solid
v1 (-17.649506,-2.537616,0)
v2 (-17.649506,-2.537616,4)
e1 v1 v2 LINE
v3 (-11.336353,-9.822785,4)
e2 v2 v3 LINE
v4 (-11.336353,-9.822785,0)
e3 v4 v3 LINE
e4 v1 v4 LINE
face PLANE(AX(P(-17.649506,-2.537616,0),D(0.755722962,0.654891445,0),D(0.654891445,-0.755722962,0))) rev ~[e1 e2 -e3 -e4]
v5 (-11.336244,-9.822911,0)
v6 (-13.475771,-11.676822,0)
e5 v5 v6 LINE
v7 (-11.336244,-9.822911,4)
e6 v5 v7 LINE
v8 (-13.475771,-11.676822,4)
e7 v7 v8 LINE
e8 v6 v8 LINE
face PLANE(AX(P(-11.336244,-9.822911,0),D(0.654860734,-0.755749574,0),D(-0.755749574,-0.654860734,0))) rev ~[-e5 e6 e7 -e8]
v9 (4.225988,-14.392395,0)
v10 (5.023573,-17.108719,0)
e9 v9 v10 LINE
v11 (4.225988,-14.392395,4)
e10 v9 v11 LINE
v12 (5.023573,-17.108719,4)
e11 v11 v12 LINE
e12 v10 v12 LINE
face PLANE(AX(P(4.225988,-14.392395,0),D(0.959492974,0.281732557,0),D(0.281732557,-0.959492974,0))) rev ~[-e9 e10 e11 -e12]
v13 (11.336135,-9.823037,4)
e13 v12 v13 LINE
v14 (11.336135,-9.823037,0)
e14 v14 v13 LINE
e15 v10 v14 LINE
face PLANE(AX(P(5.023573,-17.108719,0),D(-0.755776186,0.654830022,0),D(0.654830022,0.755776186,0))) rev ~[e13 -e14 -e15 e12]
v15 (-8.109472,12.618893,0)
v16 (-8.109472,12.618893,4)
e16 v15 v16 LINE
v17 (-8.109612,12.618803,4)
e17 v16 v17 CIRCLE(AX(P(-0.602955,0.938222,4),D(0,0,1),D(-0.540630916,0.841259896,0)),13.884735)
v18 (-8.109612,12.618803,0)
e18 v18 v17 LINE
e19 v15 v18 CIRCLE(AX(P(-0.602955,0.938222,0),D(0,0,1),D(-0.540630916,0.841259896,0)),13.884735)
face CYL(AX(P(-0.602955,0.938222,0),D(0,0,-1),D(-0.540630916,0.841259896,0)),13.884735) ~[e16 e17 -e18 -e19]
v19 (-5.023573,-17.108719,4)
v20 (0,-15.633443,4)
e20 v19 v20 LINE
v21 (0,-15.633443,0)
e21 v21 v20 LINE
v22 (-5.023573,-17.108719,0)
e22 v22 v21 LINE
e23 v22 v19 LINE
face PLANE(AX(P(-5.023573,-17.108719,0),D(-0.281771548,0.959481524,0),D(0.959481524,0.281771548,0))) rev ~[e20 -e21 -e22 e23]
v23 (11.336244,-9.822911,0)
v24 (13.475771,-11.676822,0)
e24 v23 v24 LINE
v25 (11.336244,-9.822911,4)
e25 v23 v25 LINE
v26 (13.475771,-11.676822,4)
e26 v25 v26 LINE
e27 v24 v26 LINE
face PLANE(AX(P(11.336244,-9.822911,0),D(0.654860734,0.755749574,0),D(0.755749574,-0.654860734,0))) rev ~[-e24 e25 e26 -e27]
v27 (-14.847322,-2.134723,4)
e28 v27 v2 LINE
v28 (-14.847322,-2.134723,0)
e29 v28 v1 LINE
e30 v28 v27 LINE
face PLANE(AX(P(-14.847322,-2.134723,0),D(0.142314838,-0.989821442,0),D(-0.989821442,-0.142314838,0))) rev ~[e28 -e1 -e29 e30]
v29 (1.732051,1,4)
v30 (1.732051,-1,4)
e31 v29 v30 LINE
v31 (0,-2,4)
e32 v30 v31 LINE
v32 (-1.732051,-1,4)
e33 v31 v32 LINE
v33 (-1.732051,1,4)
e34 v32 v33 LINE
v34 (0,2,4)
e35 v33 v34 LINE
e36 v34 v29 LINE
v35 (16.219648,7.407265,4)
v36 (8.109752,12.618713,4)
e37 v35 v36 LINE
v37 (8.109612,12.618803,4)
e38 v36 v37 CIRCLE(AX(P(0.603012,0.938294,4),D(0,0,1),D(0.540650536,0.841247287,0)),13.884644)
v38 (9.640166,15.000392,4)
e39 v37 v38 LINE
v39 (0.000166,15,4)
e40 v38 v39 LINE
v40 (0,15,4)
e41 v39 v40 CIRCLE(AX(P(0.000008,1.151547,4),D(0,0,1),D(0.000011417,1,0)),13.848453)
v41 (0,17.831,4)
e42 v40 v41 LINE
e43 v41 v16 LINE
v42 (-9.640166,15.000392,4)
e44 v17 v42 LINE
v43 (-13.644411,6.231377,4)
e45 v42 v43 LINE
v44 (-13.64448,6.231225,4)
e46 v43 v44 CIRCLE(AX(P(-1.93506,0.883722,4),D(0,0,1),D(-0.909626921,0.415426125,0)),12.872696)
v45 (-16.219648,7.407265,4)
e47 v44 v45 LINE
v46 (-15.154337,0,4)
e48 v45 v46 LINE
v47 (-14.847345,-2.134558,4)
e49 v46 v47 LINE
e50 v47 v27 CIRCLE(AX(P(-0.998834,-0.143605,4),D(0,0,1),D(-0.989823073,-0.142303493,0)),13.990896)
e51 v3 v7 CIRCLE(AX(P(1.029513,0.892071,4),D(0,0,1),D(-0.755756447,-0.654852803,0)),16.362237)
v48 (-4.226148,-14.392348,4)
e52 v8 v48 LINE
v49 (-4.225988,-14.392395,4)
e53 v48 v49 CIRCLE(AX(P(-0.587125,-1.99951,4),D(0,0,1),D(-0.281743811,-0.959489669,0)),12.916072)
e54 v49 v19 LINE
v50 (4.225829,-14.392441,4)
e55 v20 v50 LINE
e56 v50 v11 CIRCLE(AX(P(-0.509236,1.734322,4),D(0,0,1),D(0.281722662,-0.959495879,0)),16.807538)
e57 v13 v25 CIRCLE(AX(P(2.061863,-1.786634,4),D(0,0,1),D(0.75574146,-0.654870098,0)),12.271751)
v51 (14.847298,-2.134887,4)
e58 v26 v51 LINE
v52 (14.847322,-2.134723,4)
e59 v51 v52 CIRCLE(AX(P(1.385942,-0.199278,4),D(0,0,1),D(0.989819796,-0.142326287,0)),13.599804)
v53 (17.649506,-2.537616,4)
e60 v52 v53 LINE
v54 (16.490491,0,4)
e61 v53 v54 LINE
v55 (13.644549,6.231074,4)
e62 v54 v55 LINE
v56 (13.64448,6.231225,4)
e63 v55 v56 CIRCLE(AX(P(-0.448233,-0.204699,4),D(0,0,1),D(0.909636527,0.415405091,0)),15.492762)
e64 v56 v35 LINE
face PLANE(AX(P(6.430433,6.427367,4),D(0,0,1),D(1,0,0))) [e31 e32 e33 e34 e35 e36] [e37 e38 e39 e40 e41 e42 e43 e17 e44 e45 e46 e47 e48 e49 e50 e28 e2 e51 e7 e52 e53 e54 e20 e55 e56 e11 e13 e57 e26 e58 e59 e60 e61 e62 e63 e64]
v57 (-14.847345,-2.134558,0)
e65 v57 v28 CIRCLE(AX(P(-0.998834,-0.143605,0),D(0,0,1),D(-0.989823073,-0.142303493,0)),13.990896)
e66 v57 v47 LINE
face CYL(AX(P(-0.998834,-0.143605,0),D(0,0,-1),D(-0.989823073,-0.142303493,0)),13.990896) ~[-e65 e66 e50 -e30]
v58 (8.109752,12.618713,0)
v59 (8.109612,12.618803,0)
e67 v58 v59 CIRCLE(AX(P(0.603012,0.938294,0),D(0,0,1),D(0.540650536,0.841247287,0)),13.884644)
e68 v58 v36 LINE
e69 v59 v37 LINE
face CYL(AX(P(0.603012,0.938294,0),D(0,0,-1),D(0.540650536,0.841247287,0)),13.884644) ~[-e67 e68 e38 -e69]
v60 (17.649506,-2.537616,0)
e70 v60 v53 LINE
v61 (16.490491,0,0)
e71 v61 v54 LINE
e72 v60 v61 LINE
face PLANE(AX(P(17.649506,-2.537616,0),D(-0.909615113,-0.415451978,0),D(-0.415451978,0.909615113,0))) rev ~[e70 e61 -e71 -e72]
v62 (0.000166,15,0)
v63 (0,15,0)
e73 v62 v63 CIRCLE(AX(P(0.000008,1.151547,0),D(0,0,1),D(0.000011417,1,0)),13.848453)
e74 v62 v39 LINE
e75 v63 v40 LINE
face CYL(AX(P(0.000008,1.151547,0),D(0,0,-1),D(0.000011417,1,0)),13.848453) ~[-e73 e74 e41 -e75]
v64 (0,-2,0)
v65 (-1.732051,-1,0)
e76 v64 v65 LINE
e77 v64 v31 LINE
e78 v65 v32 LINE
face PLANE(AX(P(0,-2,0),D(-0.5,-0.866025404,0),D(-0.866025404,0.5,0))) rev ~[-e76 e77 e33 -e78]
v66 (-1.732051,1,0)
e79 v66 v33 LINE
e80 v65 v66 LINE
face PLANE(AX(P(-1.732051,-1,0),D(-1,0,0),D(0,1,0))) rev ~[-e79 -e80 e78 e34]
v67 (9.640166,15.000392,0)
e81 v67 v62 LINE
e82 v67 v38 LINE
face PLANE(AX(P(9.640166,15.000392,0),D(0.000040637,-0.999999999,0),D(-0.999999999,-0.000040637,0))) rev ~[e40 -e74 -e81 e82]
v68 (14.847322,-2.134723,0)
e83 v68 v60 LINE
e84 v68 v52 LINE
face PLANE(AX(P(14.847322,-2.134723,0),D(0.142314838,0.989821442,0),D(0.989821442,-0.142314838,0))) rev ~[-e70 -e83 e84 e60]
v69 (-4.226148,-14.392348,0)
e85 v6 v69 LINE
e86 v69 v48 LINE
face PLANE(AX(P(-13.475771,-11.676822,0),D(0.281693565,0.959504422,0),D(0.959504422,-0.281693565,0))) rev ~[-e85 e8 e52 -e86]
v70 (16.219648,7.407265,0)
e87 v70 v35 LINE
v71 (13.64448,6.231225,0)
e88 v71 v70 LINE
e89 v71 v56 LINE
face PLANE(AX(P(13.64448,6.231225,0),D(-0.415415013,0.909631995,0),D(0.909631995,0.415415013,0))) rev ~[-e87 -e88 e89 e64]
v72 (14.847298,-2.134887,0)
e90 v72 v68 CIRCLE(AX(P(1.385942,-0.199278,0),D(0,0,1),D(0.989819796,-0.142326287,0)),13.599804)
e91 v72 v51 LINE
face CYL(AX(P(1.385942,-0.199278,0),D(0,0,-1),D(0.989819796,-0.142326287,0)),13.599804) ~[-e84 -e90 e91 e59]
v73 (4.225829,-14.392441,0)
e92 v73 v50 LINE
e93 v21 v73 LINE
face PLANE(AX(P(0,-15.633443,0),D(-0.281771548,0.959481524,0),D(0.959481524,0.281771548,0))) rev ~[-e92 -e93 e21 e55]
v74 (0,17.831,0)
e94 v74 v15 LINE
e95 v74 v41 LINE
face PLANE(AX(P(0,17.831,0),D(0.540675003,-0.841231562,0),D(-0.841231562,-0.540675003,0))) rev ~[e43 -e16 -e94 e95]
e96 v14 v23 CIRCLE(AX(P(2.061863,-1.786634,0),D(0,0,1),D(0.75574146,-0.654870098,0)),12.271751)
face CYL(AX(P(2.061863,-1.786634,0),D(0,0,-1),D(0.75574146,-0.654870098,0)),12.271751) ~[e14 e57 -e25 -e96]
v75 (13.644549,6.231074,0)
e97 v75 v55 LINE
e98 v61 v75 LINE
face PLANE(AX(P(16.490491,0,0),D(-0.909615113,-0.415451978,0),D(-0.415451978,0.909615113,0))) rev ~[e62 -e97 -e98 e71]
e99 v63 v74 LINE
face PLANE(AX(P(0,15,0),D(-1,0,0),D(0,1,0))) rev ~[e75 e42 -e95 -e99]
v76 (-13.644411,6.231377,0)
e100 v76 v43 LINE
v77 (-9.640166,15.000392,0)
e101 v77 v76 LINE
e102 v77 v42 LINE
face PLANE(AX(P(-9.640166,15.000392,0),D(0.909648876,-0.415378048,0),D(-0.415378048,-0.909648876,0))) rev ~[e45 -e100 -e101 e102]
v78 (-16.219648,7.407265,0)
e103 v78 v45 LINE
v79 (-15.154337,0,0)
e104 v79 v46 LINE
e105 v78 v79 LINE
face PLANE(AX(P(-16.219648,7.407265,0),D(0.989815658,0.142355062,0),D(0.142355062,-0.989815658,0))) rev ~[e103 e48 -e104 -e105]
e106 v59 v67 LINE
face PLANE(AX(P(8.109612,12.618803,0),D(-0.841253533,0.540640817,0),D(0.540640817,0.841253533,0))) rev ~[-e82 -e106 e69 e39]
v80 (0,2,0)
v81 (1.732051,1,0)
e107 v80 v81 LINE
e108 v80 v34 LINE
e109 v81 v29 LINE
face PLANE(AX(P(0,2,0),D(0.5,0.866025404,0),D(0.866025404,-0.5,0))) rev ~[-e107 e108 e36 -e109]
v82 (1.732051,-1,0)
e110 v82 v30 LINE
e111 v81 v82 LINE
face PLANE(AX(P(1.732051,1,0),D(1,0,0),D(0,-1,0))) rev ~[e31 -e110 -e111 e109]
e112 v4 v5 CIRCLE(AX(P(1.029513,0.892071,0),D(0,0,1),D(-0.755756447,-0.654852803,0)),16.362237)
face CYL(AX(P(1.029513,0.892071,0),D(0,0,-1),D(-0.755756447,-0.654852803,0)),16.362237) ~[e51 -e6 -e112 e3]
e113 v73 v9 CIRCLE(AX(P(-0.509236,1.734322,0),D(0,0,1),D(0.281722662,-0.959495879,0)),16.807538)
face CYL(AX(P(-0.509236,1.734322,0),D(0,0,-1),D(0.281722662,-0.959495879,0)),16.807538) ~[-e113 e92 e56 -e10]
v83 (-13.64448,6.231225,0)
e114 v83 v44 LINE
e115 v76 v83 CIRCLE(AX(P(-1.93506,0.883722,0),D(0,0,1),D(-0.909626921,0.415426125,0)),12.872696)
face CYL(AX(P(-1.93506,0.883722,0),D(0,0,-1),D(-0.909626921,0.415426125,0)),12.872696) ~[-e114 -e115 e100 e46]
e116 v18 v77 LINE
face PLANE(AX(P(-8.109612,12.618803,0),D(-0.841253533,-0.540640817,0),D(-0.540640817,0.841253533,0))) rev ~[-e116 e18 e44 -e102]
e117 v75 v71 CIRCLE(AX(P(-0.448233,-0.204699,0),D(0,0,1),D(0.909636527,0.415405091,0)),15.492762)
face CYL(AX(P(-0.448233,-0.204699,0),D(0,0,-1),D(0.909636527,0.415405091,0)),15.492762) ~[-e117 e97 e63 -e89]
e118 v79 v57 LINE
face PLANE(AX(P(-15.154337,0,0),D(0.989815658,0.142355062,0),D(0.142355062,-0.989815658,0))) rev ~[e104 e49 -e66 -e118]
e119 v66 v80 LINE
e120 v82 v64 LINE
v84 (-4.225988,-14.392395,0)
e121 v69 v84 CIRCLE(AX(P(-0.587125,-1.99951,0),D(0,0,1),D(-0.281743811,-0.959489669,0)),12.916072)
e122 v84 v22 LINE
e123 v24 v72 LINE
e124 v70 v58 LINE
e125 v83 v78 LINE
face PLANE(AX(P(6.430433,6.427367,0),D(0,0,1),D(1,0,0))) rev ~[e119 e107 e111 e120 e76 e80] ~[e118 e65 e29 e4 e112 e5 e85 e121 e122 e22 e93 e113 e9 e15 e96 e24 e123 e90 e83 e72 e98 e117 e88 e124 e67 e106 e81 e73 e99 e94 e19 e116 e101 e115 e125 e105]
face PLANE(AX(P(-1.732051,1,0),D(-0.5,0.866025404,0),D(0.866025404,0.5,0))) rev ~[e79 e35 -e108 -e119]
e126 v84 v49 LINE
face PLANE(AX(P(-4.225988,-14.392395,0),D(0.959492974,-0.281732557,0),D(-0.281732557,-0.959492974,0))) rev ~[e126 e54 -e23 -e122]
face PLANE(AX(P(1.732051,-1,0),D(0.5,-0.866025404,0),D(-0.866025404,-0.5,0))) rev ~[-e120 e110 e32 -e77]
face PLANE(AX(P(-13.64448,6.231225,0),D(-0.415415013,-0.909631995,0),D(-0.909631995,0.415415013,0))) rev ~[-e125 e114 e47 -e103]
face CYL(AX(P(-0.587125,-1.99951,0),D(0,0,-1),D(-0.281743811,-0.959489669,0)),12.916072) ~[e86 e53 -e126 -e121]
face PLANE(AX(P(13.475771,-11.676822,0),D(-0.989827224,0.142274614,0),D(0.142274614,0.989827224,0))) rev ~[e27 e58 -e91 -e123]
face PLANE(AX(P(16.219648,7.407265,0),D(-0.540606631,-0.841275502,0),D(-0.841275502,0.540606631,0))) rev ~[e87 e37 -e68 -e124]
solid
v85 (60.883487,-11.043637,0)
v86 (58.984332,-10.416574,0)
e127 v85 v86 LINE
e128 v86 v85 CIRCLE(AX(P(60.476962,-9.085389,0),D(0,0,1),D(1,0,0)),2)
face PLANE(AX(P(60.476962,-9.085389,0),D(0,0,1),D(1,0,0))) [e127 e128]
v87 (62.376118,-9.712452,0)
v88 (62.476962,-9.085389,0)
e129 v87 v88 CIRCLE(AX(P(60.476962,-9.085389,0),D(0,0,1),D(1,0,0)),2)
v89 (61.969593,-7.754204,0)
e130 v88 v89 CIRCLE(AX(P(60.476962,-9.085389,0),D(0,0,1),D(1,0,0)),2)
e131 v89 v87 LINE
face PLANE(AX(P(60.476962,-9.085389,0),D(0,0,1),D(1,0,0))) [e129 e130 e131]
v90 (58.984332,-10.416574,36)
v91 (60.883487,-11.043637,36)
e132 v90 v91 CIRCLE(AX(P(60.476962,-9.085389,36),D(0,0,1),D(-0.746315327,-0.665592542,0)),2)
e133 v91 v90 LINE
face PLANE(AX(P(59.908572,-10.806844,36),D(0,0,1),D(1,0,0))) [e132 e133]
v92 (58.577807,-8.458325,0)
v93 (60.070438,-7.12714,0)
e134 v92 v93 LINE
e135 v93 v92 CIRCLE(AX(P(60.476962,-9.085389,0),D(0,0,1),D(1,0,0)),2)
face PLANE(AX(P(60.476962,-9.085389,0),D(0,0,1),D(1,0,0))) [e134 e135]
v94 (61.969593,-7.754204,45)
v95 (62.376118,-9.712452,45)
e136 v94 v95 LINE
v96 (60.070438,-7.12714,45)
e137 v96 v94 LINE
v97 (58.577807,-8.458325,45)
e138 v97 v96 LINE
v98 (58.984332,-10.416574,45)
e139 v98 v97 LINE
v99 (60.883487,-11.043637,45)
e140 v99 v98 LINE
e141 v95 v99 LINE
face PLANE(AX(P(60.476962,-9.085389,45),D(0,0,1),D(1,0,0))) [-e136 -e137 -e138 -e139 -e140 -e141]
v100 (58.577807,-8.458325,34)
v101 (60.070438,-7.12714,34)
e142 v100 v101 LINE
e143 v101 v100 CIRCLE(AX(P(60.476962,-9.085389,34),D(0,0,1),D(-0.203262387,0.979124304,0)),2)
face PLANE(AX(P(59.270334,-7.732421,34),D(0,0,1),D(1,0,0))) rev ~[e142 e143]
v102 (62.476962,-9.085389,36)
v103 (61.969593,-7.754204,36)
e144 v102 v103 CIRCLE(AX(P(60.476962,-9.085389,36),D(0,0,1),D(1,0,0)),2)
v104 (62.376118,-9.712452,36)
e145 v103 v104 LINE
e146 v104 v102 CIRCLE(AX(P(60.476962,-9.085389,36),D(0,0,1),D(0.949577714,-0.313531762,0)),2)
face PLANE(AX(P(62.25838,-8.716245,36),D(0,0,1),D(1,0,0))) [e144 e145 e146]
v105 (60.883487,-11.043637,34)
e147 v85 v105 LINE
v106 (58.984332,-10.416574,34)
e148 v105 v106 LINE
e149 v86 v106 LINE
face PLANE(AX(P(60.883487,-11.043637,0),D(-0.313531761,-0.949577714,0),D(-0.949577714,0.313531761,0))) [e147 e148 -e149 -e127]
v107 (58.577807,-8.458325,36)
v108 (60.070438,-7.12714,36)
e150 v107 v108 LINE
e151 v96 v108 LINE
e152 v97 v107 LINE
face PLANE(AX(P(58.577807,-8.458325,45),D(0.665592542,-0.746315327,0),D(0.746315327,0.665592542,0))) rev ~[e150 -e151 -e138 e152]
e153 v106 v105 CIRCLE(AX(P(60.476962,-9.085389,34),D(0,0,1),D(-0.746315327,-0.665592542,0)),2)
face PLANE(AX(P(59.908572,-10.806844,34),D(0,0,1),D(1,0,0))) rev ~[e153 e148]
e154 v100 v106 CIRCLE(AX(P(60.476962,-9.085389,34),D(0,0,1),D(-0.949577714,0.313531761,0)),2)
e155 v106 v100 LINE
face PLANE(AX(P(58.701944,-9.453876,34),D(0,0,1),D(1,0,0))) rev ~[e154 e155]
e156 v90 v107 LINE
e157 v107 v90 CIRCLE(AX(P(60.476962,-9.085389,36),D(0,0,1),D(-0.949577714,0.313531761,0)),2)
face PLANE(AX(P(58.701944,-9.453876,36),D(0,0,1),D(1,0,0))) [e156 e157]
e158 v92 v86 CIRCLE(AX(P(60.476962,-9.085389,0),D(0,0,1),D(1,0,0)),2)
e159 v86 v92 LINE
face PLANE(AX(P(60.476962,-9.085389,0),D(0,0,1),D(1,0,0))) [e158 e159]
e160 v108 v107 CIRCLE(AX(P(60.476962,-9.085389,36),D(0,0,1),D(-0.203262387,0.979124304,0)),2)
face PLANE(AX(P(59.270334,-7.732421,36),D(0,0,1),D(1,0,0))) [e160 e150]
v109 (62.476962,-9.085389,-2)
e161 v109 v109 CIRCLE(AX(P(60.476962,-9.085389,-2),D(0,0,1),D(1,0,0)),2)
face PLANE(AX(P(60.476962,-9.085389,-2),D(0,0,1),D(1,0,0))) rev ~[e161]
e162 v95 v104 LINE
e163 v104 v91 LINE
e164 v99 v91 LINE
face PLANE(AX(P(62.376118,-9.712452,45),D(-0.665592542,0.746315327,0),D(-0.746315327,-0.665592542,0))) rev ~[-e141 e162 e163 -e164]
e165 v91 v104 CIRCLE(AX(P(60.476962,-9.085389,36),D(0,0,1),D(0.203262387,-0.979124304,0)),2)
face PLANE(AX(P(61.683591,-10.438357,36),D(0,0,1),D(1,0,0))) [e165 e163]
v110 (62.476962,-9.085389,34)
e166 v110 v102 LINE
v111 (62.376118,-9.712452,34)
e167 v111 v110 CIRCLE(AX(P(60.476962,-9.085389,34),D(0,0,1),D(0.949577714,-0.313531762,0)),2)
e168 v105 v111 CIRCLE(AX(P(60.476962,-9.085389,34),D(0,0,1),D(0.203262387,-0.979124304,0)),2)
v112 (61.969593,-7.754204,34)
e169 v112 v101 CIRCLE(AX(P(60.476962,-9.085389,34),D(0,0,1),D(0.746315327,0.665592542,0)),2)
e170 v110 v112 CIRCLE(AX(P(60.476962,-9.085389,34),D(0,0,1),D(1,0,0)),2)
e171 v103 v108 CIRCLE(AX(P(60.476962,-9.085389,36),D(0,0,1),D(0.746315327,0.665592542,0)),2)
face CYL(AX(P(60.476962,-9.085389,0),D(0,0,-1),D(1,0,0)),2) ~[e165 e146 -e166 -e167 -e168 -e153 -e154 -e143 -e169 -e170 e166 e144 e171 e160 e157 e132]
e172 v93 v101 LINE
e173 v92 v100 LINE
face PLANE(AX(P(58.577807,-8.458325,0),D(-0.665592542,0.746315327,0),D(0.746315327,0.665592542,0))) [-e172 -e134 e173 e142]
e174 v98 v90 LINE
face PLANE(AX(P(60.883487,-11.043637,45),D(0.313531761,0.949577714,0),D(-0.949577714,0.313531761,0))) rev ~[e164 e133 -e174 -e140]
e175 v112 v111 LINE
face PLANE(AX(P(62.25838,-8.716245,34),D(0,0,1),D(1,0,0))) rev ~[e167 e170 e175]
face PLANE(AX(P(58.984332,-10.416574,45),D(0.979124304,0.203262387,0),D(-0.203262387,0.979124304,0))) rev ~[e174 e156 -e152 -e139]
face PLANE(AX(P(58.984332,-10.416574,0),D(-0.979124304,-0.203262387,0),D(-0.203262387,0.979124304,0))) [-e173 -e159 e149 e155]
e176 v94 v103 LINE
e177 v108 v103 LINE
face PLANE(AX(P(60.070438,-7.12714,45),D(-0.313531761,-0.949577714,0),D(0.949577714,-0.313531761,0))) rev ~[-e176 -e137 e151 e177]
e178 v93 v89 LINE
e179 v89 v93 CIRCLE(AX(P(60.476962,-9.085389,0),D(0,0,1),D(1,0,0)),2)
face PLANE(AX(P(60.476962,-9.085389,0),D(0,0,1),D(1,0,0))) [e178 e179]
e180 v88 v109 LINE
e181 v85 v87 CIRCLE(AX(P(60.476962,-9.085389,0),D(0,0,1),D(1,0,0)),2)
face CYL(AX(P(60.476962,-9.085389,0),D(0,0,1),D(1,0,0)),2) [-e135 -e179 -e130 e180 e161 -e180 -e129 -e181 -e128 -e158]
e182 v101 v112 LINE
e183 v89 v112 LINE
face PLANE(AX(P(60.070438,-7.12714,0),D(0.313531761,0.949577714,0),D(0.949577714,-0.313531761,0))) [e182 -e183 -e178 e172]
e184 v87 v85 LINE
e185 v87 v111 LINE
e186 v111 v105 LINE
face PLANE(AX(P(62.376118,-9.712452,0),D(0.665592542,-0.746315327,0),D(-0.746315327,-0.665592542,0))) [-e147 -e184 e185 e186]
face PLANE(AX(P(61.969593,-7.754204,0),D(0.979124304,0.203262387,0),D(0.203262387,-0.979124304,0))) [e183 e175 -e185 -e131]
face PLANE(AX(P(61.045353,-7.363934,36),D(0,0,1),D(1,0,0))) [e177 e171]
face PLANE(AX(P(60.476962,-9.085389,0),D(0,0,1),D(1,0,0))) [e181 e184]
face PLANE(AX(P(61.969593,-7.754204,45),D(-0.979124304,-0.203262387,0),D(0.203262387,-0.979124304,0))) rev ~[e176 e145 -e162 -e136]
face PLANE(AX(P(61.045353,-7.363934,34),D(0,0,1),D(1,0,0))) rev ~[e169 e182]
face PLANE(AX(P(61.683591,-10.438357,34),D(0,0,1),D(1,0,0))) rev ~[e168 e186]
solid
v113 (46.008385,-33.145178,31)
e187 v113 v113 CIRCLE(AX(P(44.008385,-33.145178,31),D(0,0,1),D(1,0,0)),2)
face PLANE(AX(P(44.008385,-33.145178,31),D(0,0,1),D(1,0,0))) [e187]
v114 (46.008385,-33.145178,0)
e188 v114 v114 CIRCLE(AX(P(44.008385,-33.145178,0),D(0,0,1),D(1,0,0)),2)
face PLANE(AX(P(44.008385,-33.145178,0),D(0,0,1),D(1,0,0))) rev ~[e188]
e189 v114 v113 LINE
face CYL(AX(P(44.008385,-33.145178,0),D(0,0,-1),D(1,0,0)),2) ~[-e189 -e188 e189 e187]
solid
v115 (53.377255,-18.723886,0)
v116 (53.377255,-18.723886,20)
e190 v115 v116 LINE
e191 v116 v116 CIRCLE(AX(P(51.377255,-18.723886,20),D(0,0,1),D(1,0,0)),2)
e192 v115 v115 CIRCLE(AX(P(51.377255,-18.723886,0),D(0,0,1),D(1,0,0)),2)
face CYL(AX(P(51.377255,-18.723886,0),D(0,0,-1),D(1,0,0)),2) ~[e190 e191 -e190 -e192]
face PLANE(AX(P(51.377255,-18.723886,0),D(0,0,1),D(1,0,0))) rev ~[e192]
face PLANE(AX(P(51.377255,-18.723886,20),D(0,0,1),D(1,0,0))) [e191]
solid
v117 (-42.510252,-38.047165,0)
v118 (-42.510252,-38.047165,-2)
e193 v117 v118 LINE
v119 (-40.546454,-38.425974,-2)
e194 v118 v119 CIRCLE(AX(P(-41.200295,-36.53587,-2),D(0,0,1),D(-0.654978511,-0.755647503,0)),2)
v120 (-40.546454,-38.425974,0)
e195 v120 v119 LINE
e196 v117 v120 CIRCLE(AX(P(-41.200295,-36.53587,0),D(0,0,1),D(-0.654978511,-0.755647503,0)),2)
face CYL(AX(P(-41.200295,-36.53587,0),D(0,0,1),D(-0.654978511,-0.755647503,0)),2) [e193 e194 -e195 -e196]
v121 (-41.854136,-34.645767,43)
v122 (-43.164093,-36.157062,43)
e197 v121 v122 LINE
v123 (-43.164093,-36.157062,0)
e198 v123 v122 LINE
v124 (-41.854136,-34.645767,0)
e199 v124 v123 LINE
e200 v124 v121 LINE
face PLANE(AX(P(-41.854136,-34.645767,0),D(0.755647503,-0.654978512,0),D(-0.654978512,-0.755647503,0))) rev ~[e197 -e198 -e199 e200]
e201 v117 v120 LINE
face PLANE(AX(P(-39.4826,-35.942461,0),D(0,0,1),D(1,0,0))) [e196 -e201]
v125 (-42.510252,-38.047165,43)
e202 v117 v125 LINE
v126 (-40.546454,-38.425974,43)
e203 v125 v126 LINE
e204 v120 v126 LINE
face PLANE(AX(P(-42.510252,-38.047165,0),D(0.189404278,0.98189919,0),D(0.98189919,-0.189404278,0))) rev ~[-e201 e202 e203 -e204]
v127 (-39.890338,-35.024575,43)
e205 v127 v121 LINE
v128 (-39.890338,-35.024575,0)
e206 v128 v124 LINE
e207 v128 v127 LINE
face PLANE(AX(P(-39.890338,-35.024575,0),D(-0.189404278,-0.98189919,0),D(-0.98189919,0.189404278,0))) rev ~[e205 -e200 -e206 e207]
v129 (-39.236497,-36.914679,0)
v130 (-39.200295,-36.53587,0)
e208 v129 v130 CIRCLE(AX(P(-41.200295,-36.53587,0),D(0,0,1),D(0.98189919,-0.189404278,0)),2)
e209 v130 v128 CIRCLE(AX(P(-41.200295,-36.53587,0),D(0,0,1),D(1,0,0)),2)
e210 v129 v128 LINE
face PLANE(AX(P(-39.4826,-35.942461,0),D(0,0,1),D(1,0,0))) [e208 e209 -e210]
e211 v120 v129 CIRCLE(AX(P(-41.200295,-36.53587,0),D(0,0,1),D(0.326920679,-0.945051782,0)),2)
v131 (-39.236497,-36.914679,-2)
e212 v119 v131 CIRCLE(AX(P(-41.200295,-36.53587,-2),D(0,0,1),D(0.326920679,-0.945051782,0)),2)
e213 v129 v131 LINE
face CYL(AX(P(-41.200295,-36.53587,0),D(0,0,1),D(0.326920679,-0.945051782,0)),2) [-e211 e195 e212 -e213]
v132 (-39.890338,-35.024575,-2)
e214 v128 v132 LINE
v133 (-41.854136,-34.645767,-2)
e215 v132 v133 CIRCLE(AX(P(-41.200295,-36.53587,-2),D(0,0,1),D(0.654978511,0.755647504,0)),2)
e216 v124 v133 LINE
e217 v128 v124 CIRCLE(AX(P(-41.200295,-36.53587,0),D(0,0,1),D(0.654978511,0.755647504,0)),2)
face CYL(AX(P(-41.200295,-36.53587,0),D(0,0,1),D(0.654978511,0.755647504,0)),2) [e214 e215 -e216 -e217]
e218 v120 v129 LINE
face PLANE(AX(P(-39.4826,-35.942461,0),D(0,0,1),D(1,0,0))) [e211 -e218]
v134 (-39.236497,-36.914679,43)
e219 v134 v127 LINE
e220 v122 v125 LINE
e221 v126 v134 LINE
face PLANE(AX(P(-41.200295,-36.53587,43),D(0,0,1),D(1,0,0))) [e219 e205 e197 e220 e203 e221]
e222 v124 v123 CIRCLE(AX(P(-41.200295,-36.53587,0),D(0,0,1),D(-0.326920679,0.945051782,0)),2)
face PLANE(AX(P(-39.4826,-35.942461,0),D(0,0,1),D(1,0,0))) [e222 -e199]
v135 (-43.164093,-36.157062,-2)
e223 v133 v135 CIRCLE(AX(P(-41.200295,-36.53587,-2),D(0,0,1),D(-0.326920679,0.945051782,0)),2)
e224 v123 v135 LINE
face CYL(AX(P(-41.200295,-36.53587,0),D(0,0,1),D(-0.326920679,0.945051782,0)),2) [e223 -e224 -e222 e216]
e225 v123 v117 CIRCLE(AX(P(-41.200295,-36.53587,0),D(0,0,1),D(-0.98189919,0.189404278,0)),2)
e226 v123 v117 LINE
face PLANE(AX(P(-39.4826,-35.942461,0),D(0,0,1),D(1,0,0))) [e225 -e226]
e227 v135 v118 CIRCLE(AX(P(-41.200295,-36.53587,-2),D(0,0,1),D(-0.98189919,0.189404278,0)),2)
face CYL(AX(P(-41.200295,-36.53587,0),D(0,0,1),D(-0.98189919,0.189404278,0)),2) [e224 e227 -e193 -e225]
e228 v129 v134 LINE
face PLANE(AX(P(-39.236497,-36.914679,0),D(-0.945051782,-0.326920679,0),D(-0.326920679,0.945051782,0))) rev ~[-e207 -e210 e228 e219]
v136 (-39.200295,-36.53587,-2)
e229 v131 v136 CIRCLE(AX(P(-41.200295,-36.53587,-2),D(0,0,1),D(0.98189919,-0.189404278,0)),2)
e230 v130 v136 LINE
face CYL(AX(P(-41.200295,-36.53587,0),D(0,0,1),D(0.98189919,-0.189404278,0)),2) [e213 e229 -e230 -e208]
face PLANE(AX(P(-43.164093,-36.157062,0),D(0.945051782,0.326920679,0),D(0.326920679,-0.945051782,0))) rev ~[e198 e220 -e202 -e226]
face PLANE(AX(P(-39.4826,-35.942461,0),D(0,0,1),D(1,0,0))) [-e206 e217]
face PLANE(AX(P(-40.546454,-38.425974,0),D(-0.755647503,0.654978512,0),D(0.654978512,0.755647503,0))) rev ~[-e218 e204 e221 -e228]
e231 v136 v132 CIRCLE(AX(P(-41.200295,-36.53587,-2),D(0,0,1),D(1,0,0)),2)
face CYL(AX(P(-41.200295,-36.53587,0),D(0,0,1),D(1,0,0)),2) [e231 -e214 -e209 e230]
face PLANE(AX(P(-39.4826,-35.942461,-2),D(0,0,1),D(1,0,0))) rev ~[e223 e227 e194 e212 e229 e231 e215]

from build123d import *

# Parameters (mm, degrees)
F1_DEPTH  = 4
F2_R      = 2
F3_DEPTH  = 31
F4_DEPTH  = 20
F5_DEPTH  = 45
F7_DEPTH  = 9
F9_DEPTH  = 34
F10_DEPTH = 2
F12_DEPTH = 43
F13_DEPTH = 2


with BuildPart() as f1:
    # F0 (on Top) → F1 (new body)
    with BuildSketch(Plane.XY):
        with BuildLine():
            Line((2, 0), (15, 0))
            ThreePointArc((15, 0), (14.6572206773, 3.1883980329), (13.6445490645, 6.23107381))
            ThreePointArc((13.6445490645, 6.23107381), (13.6445144976, 6.2311495026), (13.6444799303, 6.231225195))
            ThreePointArc((13.6444799303, 6.231225195), (11.3362981074, 9.8228481216), (8.1097522661, 12.6187130161))
            ThreePointArc((8.1097522661, 12.6187130161), (8.1096822641, 12.6187580045), (8.1096122618, 12.6188029925))
            ThreePointArc((8.1096122618, 12.6188029925), (4.2260681939, 14.3923711605), (0.000166424, 14.9999999991))
            ThreePointArc((0.000166424, 14.9999999991), (8.3212e-05, 14.9999999998), (0, 15))
            Line((0, 15), (0, 2))
            ThreePointArc((0, 2), (1, 1.7320508076), (1.7320508076, 1))
            ThreePointArc((1.7320508076, 1), (1.9318516526, 0.5176380902), (2, 0))
        make_face()
        with BuildLine():
            Line((16.4904911563, 0), (15, 0))
            ThreePointArc((15, 0), (14.9617817192, -1.070087748), (14.8473216282, -2.1347225741))
            Line((14.8473216282, -2.1347225741), (17.6495061302, -2.5376158813))
            Line((17.6495061302, -2.5376158813), (16.4904911563, 0))
        make_face()
        with BuildLine():
            ThreePointArc((14.8473216282, -2.1347225741), (14.9617817192, -1.070087748), (15, 0))
            Line((15, 0), (2, 0))
            ThreePointArc((2, 0), (1.9318516526, -0.5176380902), (1.7320508076, -1))
            ThreePointArc((1.7320508076, -1), (1, -1.7320508076), (0, -2))
            Line((0, -2), (0, -15))
            ThreePointArc((0, -15), (2.134640209, -14.8473334703), (4.2258286697, -14.3924414904))
            ThreePointArc((4.2258286697, -14.3924414904), (4.2259085112, -14.3924180475), (4.2259883526, -14.3923946042))
            ThreePointArc((4.2259883526, -14.3923946042), (8.1095422593, -12.6188479801), (11.3361346301, -9.8230367834))
            ThreePointArc((11.3361346301, -9.8230367834), (11.3361891229, -9.8229738965), (11.3362436153, -9.8229110092))
            ThreePointArc((11.3362436153, -9.8229110092), (13.6444453626, -6.2313008872), (14.8472979427, -2.134887304))
            ThreePointArc((14.8472979427, -2.134887304), (14.8473097857, -2.1348049391), (14.8473216282, -2.1347225741))
        make_face()
        with BuildLine():
            ThreePointArc((13.6445490645, 6.23107381), (14.6572206773, 3.1883980329), (15, 0))
            Line((15, 0), (16.4904911563, 0))
            Line((16.4904911563, 0), (13.6445490645, 6.23107381))
        make_face()
        with BuildLine():
            ThreePointArc((8.1097522661, 12.6187130161), (11.3362981074, 9.8228481216), (13.6444799303, 6.231225195))
            Line((13.6444799303, 6.231225195), (16.2196481092, 7.4072650968))
            Line((16.2196481092, 7.4072650968), (8.1097522661, 12.6187130161))
        make_face()
        with BuildLine():
            Line((13.4757706603, -11.676821747), (14.8472979427, -2.134887304))
            ThreePointArc((14.8472979427, -2.134887304), (13.6444453626, -6.2313008872), (11.3362436153, -9.8229110092))
            Line((11.3362436153, -9.8229110092), (13.4757706603, -11.676821747))
        make_face()
        with BuildLine():
            ThreePointArc((-1.7320508076, 1), (-1, 1.7320508076), (0, 2))
            Line((0, 2), (0, 15))
            ThreePointArc((0, 15), (-4.2259085112, 14.3924180475), (-8.1094722565, 12.6188929673))
            ThreePointArc((-8.1094722565, 12.6188929673), (-8.1095422593, 12.6188479801), (-8.1096122618, 12.6188029925))
            ThreePointArc((-8.1096122618, 12.6188029925), (-11.3361891229, 9.8229738965), (-13.6444107944, 6.2313765792))
            ThreePointArc((-13.6444107944, 6.2313765792), (-13.6444453626, 6.2313008872), (-13.6444799303, 6.231225195))
            ThreePointArc((-13.6444799303, 6.231225195), (-14.6572029896, 3.1884793433), (-15, 0))
            Line((-15, 0), (-2, 0))
            ThreePointArc((-2, 0), (-1.9318516526, 0.5176380902), (-1.7320508076, 1))
        make_face()
        with BuildLine():
            Line((0, -15), (0, -2))
            ThreePointArc((0, -2), (-1, -1.7320508076), (-1.7320508076, -1))
            ThreePointArc((-1.7320508076, -1), (-1.9318516526, -0.5176380902), (-2, 0))
            Line((-2, 0), (-15, 0))
            ThreePointArc((-15, 0), (-14.9617876552, -1.070004748), (-14.8473453119, -2.1345578439))
            ThreePointArc((-14.8473453119, -2.1345578439), (-14.8473334703, -2.134640209), (-14.8473216282, -2.1347225741))
            ThreePointArc((-14.8473216282, -2.1347225741), (-13.6445144976, -6.2311495026), (-11.3363525992, -9.8227852337))
            ThreePointArc((-11.3363525992, -9.8227852337), (-11.3362981074, -9.8228481216), (-11.3362436153, -9.8229110092))
            ThreePointArc((-11.3362436153, -9.8229110092), (-8.1096822641, -12.6187580045), (-4.226148035, -14.3923477163))
            ThreePointArc((-4.226148035, -14.3923477163), (-4.2260681939, -14.3923711605), (-4.2259883526, -14.3923946042))
            ThreePointArc((-4.2259883526, -14.3923946042), (-2.1347225741, -14.8473216282), (0, -15))
        make_face()
        with BuildLine():
            ThreePointArc((0.000166424, 14.9999999991), (4.2260681939, 14.3923711605), (8.1096122618, 12.6188029925))
            Line((8.1096122618, 12.6188029925), (9.6401664161, 15.0003917439))
            Line((9.6401664161, 15.0003917439), (0.000166424, 14.9999999991))
        make_face()
        with BuildLine():
            Line((5.023573221, -17.1087192125), (11.3361346301, -9.8230367834))
            ThreePointArc((11.3361346301, -9.8230367834), (8.1095422593, -12.6188479801), (4.2259883526, -14.3923946042))
            Line((4.2259883526, -14.3923946042), (5.023573221, -17.1087192125))
        make_face()
        with BuildLine():
            ThreePointArc((-8.1094722565, 12.6188929673), (-4.2259085112, 14.3924180475), (0, 15))
            Line((0, 15), (0, 17.831))
            Line((0, 17.831), (-8.1094722565, 12.6188929673))
        make_face()
        with BuildLine():
            Line((0, -15.6334432772), (0, -15))
            ThreePointArc((0, -15), (-2.1347225741, -14.8473216282), (-4.2259883526, -14.3923946042))
            Line((-4.2259883526, -14.3923946042), (-5.023573221, -17.1087192125))
            Line((-5.023573221, -17.1087192125), (0, -15.6334432772))
        make_face()
        with BuildLine():
            ThreePointArc((4.2258286697, -14.3924414904), (2.134640209, -14.8473334703), (0, -15))
            Line((0, -15), (0, -15.6334432772))
            Line((0, -15.6334432772), (4.2258286697, -14.3924414904))
        make_face()
        with BuildLine():
            Line((-15.1543369338, 0), (-15, 0))
            ThreePointArc((-15, 0), (-14.6572029896, 3.1884793433), (-13.6444799303, 6.231225195))
            Line((-13.6444799303, 6.231225195), (-16.2196481092, 7.4072650968))
            Line((-16.2196481092, 7.4072650968), (-15.1543369338, 0))
        make_face()
        with BuildLine():
            ThreePointArc((-14.8473453119, -2.1345578439), (-14.9617876552, -1.070004748), (-15, 0))
            Line((-15, 0), (-15.1543369338, 0))
            Line((-15.1543369338, 0), (-14.8473453119, -2.1345578439))
        make_face()
        with BuildLine():
            ThreePointArc((-13.6444107944, 6.2313765792), (-11.3361891229, 9.8229738965), (-8.1096122618, 12.6188029925))
            Line((-8.1096122618, 12.6188029925), (-9.6401664161, 15.0003917439))
            Line((-9.6401664161, 15.0003917439), (-13.6444107944, 6.2313765792))
        make_face()
        with BuildLine():
            Line((-13.4757706603, -11.676821747), (-4.226148035, -14.3923477163))
            ThreePointArc((-4.226148035, -14.3923477163), (-8.1096822641, -12.6187580045), (-11.3362436153, -9.8229110092))
            Line((-11.3362436153, -9.8229110092), (-13.4757706603, -11.676821747))
        make_face()
        with BuildLine():
            ThreePointArc((-11.3363525992, -9.8227852337), (-13.6445144976, -6.2311495026), (-14.8473216282, -2.1347225741))
            Line((-14.8473216282, -2.1347225741), (-17.6495061302, -2.5376158813))
            Line((-17.6495061302, -2.5376158813), (-11.3363525992, -9.8227852337))
        make_face()
        with BuildLine():
            Line((-1.7320508076, 1), (0, 2))
            ThreePointArc((0, 2), (-1, 1.7320508076), (-1.7320508076, 1))
        make_face()
        with BuildLine():
            Line((0, 2), (1.7320508076, 1))
            ThreePointArc((1.7320508076, 1), (1, 1.7320508076), (0, 2))
        make_face()
        with BuildLine():
            Line((1.7320508076, 0), (2, 0))
            ThreePointArc((2, 0), (1.9318516526, 0.5176380902), (1.7320508076, 1))
            Line((1.7320508076, 1), (1.7320508076, 0))
        make_face()
        with BuildLine():
            ThreePointArc((0, -2), (1, -1.7320508076), (1.7320508076, -1))
            Line((1.7320508076, -1), (0, -2))
        make_face()
        with BuildLine():
            ThreePointArc((-1.7320508076, -1), (-1, -1.7320508076), (0, -2))
            Line((0, -2), (-1.7320508076, -1))
        make_face()
        with BuildLine():
            Line((-2, 0), (-1.7320508076, 0))
            Line((-1.7320508076, 0), (-1.7320508076, 1))
            ThreePointArc((-1.7320508076, 1), (-1.9318516526, 0.5176380902), (-2, 0))
        make_face()
        with BuildLine():
            Line((-1.7320508076, -1), (-1.7320508076, 0))
            Line((-1.7320508076, 0), (-2, 0))
            ThreePointArc((-2, 0), (-1.9318516526, -0.5176380902), (-1.7320508076, -1))
        make_face()
        with BuildLine():
            ThreePointArc((1.7320508076, -1), (1.9318516526, -0.5176380902), (2, 0))
            Line((2, 0), (1.7320508076, 0))
            Line((1.7320508076, 0), (1.7320508076, -1))
        make_face()
    extrude(amount=F1_DEPTH)


with BuildPart() as f3:
    # F2 (on Top) → F3 (new body)
    with BuildSketch(Plane.XY):
        with Locations((44.00838539, -33.1451781094)):
            Circle(F2_R)
    extrude(amount=F3_DEPTH)


with BuildPart() as f4:
    # F2 (on Top) → F4 (new body)
    with BuildSketch(Plane.XY):
        with Locations((51.3772554696, -18.7238864601)):
            Circle(F2_R)
    extrude(amount=F4_DEPTH)


with BuildPart() as f5:
    # F2 (on Top) → F5 (new body)
    with BuildSketch(Plane.XY):
        with Locations((60.476962477, -9.0853888541)):
            Circle(F2_R)
    extrude(amount=F5_DEPTH)

    # F6 (on face) → F7 (cut)
    with BuildSketch(Plane.XY.offset(45)):
        with BuildLine():
            Line((58.5778070493, -8.4583253314), (60.0704377037, -7.1271402467))
            ThreePointArc((60.0704377037, -7.1271402467), (59.1457773923, -7.5927581998), (58.5778070493, -8.4583253314))
        make_face()
        with BuildLine():
            ThreePointArc((61.9695931313, -7.7542037695), (61.1040259997, -7.1862334265), (60.0704377037, -7.1271402467))
            Line((60.0704377037, -7.1271402467), (61.9695931313, -7.7542037695))
        make_face()
        with BuildLine():
            ThreePointArc((62.476962477, -9.0853888541), (62.3458205921, -8.373090219), (61.9695931313, -7.7542037695))
            Line((61.9695931313, -7.7542037695), (62.3761179046, -9.7124523769))
            ThreePointArc((62.3761179046, -9.7124523769), (62.4515903983, -9.4029491986), (62.476962477, -9.0853888541))
        make_face()
        with BuildLine():
            ThreePointArc((60.8834872503, -11.0436374616), (61.8081475617, -10.5780195085), (62.3761179046, -9.7124523769))
            Line((62.3761179046, -9.7124523769), (60.8834872503, -11.0436374616))
        make_face()
        with BuildLine():
            Line((60.8834872503, -11.0436374616), (58.9843318226, -10.4165739388))
            ThreePointArc((58.9843318226, -10.4165739388), (59.8498989542, -10.9845442818), (60.8834872503, -11.0436374616))
        make_face()
        with BuildLine():
            Line((58.9843318226, -10.4165739388), (58.5778070493, -8.4583253314))
            ThreePointArc((58.5778070493, -8.4583253314), (58.5187138695, -9.4919136275), (58.9843318226, -10.4165739388))
        make_face()
    extrude(amount=-F7_DEPTH, mode=Mode.SUBTRACT)

    # F8 (on face) → F9 (cut)
    with BuildSketch(Plane.XY):
        with BuildLine():
            ThreePointArc((60.8834872503, -11.0436374616), (61.8081475617, -10.5780195085), (62.3761179046, -9.7124523769))
            Line((62.3761179046, -9.7124523769), (60.8834872503, -11.0436374616))
        make_face()
        with BuildLine():
            ThreePointArc((62.476962477, -9.0853888541), (62.3458205921, -8.373090219), (61.9695931313, -7.7542037695))
            Line((61.9695931313, -7.7542037695), (62.3761179046, -9.7124523769))
            ThreePointArc((62.3761179046, -9.7124523769), (62.4515903983, -9.4029491986), (62.476962477, -9.0853888541))
        make_face()
        with BuildLine():
            Line((60.0704377037, -7.1271402467), (61.9695931313, -7.7542037695))
            ThreePointArc((61.9695931313, -7.7542037695), (61.1040259997, -7.1862334265), (60.0704377037, -7.1271402467))
        make_face()
        with BuildLine():
            Line((58.5778070493, -8.4583253314), (60.0704377037, -7.1271402467))
            ThreePointArc((60.0704377037, -7.1271402467), (59.1457773923, -7.5927581998), (58.5778070493, -8.4583253314))
        make_face()
        with BuildLine():
            Line((58.9843318226, -10.4165739388), (58.5778070493, -8.4583253314))
            ThreePointArc((58.5778070493, -8.4583253314), (58.5187138695, -9.4919136275), (58.9843318226, -10.4165739388))
        make_face()
        with BuildLine():
            ThreePointArc((58.9843318226, -10.4165739388), (59.8498989542, -10.9845442818), (60.8834872503, -11.0436374616))
            Line((60.8834872503, -11.0436374616), (58.9843318226, -10.4165739388))
        make_face()
    extrude(amount=F9_DEPTH, mode=Mode.SUBTRACT)

    # F2 (on Top) → F10 (join)
    with BuildSketch(Plane.XY):
        with Locations((60.476962477, -9.0853888541)):
            Circle(F2_R)
    extrude(amount=-F10_DEPTH)


with BuildPart() as f12:
    # F11 (on Top) → F12 (new body)
    with BuildSketch(Plane.XY):
        Polygon((-39.2364967106, -36.9146788402), (-39.8903380677, -35.0245752769), (-41.8541364478, -34.6457667206), (-43.1640934708, -36.1570617275), (-42.5102521137, -38.0471652907), (-40.5464537336, -38.4259738471), align=None)
    extrude(amount=F12_DEPTH)

    # F11 (on Top) → F13 (join)
    with BuildSketch(Plane.XY):
        with BuildLine():
            ThreePointArc((-39.2364967106, -36.9146788402), (-39.2093660663, -36.7261375167), (-39.2002950907, -36.5358702838))
            ThreePointArc((-39.2002950907, -36.5358702838), (-39.380966362, -35.7051820288), (-39.8903380677, -35.0245752769))
            Line((-39.8903380677, -35.0245752769), (-39.2364967106, -36.9146788402))
        make_face()
        with BuildLine():
            Line((-41.8541364478, -34.6457667206), (-39.8903380677, -35.0245752769))
            ThreePointArc((-39.8903380677, -35.0245752769), (-40.8214865343, -34.5720719038), (-41.8541364478, -34.6457667206))
        make_face()
        Polygon((-39.2364967106, -36.9146788402), (-39.8903380677, -35.0245752769), (-41.8541364478, -34.6457667206), (-43.1640934708, -36.1570617275), (-42.5102521137, -38.0471652907), (-40.5464537336, -38.4259738471), align=None)
        with BuildLine():
            ThreePointArc((-40.5464537336, -38.4259738471), (-39.6890000838, -37.8458273069), (-39.2364967106, -36.9146788402))
            Line((-39.2364967106, -36.9146788402), (-40.5464537336, -38.4259738471))
        make_face()
        with BuildLine():
            Line((-43.1640934708, -36.1570617275), (-41.8541364478, -34.6457667206))
            ThreePointArc((-41.8541364478, -34.6457667206), (-42.7115900976, -35.2259132608), (-43.1640934708, -36.1570617275))
        make_face()
        with BuildLine():
            ThreePointArc((-42.5102521137, -38.0471652907), (-41.579103647, -38.4996686639), (-40.5464537336, -38.4259738471))
            Line((-40.5464537336, -38.4259738471), (-42.5102521137, -38.0471652907))
        make_face()
        with BuildLine():
            Line((-42.5102521137, -38.0471652907), (-43.1640934708, -36.1570617275))
            ThreePointArc((-43.1640934708, -36.1570617275), (-43.0903986539, -37.1897116409), (-42.5102521137, -38.0471652907))
        make_face()
    extrude(amount=-F13_DEPTH)


solid = Compound([f1.part, f3.part, f4.part, f5.part, f12.part])
